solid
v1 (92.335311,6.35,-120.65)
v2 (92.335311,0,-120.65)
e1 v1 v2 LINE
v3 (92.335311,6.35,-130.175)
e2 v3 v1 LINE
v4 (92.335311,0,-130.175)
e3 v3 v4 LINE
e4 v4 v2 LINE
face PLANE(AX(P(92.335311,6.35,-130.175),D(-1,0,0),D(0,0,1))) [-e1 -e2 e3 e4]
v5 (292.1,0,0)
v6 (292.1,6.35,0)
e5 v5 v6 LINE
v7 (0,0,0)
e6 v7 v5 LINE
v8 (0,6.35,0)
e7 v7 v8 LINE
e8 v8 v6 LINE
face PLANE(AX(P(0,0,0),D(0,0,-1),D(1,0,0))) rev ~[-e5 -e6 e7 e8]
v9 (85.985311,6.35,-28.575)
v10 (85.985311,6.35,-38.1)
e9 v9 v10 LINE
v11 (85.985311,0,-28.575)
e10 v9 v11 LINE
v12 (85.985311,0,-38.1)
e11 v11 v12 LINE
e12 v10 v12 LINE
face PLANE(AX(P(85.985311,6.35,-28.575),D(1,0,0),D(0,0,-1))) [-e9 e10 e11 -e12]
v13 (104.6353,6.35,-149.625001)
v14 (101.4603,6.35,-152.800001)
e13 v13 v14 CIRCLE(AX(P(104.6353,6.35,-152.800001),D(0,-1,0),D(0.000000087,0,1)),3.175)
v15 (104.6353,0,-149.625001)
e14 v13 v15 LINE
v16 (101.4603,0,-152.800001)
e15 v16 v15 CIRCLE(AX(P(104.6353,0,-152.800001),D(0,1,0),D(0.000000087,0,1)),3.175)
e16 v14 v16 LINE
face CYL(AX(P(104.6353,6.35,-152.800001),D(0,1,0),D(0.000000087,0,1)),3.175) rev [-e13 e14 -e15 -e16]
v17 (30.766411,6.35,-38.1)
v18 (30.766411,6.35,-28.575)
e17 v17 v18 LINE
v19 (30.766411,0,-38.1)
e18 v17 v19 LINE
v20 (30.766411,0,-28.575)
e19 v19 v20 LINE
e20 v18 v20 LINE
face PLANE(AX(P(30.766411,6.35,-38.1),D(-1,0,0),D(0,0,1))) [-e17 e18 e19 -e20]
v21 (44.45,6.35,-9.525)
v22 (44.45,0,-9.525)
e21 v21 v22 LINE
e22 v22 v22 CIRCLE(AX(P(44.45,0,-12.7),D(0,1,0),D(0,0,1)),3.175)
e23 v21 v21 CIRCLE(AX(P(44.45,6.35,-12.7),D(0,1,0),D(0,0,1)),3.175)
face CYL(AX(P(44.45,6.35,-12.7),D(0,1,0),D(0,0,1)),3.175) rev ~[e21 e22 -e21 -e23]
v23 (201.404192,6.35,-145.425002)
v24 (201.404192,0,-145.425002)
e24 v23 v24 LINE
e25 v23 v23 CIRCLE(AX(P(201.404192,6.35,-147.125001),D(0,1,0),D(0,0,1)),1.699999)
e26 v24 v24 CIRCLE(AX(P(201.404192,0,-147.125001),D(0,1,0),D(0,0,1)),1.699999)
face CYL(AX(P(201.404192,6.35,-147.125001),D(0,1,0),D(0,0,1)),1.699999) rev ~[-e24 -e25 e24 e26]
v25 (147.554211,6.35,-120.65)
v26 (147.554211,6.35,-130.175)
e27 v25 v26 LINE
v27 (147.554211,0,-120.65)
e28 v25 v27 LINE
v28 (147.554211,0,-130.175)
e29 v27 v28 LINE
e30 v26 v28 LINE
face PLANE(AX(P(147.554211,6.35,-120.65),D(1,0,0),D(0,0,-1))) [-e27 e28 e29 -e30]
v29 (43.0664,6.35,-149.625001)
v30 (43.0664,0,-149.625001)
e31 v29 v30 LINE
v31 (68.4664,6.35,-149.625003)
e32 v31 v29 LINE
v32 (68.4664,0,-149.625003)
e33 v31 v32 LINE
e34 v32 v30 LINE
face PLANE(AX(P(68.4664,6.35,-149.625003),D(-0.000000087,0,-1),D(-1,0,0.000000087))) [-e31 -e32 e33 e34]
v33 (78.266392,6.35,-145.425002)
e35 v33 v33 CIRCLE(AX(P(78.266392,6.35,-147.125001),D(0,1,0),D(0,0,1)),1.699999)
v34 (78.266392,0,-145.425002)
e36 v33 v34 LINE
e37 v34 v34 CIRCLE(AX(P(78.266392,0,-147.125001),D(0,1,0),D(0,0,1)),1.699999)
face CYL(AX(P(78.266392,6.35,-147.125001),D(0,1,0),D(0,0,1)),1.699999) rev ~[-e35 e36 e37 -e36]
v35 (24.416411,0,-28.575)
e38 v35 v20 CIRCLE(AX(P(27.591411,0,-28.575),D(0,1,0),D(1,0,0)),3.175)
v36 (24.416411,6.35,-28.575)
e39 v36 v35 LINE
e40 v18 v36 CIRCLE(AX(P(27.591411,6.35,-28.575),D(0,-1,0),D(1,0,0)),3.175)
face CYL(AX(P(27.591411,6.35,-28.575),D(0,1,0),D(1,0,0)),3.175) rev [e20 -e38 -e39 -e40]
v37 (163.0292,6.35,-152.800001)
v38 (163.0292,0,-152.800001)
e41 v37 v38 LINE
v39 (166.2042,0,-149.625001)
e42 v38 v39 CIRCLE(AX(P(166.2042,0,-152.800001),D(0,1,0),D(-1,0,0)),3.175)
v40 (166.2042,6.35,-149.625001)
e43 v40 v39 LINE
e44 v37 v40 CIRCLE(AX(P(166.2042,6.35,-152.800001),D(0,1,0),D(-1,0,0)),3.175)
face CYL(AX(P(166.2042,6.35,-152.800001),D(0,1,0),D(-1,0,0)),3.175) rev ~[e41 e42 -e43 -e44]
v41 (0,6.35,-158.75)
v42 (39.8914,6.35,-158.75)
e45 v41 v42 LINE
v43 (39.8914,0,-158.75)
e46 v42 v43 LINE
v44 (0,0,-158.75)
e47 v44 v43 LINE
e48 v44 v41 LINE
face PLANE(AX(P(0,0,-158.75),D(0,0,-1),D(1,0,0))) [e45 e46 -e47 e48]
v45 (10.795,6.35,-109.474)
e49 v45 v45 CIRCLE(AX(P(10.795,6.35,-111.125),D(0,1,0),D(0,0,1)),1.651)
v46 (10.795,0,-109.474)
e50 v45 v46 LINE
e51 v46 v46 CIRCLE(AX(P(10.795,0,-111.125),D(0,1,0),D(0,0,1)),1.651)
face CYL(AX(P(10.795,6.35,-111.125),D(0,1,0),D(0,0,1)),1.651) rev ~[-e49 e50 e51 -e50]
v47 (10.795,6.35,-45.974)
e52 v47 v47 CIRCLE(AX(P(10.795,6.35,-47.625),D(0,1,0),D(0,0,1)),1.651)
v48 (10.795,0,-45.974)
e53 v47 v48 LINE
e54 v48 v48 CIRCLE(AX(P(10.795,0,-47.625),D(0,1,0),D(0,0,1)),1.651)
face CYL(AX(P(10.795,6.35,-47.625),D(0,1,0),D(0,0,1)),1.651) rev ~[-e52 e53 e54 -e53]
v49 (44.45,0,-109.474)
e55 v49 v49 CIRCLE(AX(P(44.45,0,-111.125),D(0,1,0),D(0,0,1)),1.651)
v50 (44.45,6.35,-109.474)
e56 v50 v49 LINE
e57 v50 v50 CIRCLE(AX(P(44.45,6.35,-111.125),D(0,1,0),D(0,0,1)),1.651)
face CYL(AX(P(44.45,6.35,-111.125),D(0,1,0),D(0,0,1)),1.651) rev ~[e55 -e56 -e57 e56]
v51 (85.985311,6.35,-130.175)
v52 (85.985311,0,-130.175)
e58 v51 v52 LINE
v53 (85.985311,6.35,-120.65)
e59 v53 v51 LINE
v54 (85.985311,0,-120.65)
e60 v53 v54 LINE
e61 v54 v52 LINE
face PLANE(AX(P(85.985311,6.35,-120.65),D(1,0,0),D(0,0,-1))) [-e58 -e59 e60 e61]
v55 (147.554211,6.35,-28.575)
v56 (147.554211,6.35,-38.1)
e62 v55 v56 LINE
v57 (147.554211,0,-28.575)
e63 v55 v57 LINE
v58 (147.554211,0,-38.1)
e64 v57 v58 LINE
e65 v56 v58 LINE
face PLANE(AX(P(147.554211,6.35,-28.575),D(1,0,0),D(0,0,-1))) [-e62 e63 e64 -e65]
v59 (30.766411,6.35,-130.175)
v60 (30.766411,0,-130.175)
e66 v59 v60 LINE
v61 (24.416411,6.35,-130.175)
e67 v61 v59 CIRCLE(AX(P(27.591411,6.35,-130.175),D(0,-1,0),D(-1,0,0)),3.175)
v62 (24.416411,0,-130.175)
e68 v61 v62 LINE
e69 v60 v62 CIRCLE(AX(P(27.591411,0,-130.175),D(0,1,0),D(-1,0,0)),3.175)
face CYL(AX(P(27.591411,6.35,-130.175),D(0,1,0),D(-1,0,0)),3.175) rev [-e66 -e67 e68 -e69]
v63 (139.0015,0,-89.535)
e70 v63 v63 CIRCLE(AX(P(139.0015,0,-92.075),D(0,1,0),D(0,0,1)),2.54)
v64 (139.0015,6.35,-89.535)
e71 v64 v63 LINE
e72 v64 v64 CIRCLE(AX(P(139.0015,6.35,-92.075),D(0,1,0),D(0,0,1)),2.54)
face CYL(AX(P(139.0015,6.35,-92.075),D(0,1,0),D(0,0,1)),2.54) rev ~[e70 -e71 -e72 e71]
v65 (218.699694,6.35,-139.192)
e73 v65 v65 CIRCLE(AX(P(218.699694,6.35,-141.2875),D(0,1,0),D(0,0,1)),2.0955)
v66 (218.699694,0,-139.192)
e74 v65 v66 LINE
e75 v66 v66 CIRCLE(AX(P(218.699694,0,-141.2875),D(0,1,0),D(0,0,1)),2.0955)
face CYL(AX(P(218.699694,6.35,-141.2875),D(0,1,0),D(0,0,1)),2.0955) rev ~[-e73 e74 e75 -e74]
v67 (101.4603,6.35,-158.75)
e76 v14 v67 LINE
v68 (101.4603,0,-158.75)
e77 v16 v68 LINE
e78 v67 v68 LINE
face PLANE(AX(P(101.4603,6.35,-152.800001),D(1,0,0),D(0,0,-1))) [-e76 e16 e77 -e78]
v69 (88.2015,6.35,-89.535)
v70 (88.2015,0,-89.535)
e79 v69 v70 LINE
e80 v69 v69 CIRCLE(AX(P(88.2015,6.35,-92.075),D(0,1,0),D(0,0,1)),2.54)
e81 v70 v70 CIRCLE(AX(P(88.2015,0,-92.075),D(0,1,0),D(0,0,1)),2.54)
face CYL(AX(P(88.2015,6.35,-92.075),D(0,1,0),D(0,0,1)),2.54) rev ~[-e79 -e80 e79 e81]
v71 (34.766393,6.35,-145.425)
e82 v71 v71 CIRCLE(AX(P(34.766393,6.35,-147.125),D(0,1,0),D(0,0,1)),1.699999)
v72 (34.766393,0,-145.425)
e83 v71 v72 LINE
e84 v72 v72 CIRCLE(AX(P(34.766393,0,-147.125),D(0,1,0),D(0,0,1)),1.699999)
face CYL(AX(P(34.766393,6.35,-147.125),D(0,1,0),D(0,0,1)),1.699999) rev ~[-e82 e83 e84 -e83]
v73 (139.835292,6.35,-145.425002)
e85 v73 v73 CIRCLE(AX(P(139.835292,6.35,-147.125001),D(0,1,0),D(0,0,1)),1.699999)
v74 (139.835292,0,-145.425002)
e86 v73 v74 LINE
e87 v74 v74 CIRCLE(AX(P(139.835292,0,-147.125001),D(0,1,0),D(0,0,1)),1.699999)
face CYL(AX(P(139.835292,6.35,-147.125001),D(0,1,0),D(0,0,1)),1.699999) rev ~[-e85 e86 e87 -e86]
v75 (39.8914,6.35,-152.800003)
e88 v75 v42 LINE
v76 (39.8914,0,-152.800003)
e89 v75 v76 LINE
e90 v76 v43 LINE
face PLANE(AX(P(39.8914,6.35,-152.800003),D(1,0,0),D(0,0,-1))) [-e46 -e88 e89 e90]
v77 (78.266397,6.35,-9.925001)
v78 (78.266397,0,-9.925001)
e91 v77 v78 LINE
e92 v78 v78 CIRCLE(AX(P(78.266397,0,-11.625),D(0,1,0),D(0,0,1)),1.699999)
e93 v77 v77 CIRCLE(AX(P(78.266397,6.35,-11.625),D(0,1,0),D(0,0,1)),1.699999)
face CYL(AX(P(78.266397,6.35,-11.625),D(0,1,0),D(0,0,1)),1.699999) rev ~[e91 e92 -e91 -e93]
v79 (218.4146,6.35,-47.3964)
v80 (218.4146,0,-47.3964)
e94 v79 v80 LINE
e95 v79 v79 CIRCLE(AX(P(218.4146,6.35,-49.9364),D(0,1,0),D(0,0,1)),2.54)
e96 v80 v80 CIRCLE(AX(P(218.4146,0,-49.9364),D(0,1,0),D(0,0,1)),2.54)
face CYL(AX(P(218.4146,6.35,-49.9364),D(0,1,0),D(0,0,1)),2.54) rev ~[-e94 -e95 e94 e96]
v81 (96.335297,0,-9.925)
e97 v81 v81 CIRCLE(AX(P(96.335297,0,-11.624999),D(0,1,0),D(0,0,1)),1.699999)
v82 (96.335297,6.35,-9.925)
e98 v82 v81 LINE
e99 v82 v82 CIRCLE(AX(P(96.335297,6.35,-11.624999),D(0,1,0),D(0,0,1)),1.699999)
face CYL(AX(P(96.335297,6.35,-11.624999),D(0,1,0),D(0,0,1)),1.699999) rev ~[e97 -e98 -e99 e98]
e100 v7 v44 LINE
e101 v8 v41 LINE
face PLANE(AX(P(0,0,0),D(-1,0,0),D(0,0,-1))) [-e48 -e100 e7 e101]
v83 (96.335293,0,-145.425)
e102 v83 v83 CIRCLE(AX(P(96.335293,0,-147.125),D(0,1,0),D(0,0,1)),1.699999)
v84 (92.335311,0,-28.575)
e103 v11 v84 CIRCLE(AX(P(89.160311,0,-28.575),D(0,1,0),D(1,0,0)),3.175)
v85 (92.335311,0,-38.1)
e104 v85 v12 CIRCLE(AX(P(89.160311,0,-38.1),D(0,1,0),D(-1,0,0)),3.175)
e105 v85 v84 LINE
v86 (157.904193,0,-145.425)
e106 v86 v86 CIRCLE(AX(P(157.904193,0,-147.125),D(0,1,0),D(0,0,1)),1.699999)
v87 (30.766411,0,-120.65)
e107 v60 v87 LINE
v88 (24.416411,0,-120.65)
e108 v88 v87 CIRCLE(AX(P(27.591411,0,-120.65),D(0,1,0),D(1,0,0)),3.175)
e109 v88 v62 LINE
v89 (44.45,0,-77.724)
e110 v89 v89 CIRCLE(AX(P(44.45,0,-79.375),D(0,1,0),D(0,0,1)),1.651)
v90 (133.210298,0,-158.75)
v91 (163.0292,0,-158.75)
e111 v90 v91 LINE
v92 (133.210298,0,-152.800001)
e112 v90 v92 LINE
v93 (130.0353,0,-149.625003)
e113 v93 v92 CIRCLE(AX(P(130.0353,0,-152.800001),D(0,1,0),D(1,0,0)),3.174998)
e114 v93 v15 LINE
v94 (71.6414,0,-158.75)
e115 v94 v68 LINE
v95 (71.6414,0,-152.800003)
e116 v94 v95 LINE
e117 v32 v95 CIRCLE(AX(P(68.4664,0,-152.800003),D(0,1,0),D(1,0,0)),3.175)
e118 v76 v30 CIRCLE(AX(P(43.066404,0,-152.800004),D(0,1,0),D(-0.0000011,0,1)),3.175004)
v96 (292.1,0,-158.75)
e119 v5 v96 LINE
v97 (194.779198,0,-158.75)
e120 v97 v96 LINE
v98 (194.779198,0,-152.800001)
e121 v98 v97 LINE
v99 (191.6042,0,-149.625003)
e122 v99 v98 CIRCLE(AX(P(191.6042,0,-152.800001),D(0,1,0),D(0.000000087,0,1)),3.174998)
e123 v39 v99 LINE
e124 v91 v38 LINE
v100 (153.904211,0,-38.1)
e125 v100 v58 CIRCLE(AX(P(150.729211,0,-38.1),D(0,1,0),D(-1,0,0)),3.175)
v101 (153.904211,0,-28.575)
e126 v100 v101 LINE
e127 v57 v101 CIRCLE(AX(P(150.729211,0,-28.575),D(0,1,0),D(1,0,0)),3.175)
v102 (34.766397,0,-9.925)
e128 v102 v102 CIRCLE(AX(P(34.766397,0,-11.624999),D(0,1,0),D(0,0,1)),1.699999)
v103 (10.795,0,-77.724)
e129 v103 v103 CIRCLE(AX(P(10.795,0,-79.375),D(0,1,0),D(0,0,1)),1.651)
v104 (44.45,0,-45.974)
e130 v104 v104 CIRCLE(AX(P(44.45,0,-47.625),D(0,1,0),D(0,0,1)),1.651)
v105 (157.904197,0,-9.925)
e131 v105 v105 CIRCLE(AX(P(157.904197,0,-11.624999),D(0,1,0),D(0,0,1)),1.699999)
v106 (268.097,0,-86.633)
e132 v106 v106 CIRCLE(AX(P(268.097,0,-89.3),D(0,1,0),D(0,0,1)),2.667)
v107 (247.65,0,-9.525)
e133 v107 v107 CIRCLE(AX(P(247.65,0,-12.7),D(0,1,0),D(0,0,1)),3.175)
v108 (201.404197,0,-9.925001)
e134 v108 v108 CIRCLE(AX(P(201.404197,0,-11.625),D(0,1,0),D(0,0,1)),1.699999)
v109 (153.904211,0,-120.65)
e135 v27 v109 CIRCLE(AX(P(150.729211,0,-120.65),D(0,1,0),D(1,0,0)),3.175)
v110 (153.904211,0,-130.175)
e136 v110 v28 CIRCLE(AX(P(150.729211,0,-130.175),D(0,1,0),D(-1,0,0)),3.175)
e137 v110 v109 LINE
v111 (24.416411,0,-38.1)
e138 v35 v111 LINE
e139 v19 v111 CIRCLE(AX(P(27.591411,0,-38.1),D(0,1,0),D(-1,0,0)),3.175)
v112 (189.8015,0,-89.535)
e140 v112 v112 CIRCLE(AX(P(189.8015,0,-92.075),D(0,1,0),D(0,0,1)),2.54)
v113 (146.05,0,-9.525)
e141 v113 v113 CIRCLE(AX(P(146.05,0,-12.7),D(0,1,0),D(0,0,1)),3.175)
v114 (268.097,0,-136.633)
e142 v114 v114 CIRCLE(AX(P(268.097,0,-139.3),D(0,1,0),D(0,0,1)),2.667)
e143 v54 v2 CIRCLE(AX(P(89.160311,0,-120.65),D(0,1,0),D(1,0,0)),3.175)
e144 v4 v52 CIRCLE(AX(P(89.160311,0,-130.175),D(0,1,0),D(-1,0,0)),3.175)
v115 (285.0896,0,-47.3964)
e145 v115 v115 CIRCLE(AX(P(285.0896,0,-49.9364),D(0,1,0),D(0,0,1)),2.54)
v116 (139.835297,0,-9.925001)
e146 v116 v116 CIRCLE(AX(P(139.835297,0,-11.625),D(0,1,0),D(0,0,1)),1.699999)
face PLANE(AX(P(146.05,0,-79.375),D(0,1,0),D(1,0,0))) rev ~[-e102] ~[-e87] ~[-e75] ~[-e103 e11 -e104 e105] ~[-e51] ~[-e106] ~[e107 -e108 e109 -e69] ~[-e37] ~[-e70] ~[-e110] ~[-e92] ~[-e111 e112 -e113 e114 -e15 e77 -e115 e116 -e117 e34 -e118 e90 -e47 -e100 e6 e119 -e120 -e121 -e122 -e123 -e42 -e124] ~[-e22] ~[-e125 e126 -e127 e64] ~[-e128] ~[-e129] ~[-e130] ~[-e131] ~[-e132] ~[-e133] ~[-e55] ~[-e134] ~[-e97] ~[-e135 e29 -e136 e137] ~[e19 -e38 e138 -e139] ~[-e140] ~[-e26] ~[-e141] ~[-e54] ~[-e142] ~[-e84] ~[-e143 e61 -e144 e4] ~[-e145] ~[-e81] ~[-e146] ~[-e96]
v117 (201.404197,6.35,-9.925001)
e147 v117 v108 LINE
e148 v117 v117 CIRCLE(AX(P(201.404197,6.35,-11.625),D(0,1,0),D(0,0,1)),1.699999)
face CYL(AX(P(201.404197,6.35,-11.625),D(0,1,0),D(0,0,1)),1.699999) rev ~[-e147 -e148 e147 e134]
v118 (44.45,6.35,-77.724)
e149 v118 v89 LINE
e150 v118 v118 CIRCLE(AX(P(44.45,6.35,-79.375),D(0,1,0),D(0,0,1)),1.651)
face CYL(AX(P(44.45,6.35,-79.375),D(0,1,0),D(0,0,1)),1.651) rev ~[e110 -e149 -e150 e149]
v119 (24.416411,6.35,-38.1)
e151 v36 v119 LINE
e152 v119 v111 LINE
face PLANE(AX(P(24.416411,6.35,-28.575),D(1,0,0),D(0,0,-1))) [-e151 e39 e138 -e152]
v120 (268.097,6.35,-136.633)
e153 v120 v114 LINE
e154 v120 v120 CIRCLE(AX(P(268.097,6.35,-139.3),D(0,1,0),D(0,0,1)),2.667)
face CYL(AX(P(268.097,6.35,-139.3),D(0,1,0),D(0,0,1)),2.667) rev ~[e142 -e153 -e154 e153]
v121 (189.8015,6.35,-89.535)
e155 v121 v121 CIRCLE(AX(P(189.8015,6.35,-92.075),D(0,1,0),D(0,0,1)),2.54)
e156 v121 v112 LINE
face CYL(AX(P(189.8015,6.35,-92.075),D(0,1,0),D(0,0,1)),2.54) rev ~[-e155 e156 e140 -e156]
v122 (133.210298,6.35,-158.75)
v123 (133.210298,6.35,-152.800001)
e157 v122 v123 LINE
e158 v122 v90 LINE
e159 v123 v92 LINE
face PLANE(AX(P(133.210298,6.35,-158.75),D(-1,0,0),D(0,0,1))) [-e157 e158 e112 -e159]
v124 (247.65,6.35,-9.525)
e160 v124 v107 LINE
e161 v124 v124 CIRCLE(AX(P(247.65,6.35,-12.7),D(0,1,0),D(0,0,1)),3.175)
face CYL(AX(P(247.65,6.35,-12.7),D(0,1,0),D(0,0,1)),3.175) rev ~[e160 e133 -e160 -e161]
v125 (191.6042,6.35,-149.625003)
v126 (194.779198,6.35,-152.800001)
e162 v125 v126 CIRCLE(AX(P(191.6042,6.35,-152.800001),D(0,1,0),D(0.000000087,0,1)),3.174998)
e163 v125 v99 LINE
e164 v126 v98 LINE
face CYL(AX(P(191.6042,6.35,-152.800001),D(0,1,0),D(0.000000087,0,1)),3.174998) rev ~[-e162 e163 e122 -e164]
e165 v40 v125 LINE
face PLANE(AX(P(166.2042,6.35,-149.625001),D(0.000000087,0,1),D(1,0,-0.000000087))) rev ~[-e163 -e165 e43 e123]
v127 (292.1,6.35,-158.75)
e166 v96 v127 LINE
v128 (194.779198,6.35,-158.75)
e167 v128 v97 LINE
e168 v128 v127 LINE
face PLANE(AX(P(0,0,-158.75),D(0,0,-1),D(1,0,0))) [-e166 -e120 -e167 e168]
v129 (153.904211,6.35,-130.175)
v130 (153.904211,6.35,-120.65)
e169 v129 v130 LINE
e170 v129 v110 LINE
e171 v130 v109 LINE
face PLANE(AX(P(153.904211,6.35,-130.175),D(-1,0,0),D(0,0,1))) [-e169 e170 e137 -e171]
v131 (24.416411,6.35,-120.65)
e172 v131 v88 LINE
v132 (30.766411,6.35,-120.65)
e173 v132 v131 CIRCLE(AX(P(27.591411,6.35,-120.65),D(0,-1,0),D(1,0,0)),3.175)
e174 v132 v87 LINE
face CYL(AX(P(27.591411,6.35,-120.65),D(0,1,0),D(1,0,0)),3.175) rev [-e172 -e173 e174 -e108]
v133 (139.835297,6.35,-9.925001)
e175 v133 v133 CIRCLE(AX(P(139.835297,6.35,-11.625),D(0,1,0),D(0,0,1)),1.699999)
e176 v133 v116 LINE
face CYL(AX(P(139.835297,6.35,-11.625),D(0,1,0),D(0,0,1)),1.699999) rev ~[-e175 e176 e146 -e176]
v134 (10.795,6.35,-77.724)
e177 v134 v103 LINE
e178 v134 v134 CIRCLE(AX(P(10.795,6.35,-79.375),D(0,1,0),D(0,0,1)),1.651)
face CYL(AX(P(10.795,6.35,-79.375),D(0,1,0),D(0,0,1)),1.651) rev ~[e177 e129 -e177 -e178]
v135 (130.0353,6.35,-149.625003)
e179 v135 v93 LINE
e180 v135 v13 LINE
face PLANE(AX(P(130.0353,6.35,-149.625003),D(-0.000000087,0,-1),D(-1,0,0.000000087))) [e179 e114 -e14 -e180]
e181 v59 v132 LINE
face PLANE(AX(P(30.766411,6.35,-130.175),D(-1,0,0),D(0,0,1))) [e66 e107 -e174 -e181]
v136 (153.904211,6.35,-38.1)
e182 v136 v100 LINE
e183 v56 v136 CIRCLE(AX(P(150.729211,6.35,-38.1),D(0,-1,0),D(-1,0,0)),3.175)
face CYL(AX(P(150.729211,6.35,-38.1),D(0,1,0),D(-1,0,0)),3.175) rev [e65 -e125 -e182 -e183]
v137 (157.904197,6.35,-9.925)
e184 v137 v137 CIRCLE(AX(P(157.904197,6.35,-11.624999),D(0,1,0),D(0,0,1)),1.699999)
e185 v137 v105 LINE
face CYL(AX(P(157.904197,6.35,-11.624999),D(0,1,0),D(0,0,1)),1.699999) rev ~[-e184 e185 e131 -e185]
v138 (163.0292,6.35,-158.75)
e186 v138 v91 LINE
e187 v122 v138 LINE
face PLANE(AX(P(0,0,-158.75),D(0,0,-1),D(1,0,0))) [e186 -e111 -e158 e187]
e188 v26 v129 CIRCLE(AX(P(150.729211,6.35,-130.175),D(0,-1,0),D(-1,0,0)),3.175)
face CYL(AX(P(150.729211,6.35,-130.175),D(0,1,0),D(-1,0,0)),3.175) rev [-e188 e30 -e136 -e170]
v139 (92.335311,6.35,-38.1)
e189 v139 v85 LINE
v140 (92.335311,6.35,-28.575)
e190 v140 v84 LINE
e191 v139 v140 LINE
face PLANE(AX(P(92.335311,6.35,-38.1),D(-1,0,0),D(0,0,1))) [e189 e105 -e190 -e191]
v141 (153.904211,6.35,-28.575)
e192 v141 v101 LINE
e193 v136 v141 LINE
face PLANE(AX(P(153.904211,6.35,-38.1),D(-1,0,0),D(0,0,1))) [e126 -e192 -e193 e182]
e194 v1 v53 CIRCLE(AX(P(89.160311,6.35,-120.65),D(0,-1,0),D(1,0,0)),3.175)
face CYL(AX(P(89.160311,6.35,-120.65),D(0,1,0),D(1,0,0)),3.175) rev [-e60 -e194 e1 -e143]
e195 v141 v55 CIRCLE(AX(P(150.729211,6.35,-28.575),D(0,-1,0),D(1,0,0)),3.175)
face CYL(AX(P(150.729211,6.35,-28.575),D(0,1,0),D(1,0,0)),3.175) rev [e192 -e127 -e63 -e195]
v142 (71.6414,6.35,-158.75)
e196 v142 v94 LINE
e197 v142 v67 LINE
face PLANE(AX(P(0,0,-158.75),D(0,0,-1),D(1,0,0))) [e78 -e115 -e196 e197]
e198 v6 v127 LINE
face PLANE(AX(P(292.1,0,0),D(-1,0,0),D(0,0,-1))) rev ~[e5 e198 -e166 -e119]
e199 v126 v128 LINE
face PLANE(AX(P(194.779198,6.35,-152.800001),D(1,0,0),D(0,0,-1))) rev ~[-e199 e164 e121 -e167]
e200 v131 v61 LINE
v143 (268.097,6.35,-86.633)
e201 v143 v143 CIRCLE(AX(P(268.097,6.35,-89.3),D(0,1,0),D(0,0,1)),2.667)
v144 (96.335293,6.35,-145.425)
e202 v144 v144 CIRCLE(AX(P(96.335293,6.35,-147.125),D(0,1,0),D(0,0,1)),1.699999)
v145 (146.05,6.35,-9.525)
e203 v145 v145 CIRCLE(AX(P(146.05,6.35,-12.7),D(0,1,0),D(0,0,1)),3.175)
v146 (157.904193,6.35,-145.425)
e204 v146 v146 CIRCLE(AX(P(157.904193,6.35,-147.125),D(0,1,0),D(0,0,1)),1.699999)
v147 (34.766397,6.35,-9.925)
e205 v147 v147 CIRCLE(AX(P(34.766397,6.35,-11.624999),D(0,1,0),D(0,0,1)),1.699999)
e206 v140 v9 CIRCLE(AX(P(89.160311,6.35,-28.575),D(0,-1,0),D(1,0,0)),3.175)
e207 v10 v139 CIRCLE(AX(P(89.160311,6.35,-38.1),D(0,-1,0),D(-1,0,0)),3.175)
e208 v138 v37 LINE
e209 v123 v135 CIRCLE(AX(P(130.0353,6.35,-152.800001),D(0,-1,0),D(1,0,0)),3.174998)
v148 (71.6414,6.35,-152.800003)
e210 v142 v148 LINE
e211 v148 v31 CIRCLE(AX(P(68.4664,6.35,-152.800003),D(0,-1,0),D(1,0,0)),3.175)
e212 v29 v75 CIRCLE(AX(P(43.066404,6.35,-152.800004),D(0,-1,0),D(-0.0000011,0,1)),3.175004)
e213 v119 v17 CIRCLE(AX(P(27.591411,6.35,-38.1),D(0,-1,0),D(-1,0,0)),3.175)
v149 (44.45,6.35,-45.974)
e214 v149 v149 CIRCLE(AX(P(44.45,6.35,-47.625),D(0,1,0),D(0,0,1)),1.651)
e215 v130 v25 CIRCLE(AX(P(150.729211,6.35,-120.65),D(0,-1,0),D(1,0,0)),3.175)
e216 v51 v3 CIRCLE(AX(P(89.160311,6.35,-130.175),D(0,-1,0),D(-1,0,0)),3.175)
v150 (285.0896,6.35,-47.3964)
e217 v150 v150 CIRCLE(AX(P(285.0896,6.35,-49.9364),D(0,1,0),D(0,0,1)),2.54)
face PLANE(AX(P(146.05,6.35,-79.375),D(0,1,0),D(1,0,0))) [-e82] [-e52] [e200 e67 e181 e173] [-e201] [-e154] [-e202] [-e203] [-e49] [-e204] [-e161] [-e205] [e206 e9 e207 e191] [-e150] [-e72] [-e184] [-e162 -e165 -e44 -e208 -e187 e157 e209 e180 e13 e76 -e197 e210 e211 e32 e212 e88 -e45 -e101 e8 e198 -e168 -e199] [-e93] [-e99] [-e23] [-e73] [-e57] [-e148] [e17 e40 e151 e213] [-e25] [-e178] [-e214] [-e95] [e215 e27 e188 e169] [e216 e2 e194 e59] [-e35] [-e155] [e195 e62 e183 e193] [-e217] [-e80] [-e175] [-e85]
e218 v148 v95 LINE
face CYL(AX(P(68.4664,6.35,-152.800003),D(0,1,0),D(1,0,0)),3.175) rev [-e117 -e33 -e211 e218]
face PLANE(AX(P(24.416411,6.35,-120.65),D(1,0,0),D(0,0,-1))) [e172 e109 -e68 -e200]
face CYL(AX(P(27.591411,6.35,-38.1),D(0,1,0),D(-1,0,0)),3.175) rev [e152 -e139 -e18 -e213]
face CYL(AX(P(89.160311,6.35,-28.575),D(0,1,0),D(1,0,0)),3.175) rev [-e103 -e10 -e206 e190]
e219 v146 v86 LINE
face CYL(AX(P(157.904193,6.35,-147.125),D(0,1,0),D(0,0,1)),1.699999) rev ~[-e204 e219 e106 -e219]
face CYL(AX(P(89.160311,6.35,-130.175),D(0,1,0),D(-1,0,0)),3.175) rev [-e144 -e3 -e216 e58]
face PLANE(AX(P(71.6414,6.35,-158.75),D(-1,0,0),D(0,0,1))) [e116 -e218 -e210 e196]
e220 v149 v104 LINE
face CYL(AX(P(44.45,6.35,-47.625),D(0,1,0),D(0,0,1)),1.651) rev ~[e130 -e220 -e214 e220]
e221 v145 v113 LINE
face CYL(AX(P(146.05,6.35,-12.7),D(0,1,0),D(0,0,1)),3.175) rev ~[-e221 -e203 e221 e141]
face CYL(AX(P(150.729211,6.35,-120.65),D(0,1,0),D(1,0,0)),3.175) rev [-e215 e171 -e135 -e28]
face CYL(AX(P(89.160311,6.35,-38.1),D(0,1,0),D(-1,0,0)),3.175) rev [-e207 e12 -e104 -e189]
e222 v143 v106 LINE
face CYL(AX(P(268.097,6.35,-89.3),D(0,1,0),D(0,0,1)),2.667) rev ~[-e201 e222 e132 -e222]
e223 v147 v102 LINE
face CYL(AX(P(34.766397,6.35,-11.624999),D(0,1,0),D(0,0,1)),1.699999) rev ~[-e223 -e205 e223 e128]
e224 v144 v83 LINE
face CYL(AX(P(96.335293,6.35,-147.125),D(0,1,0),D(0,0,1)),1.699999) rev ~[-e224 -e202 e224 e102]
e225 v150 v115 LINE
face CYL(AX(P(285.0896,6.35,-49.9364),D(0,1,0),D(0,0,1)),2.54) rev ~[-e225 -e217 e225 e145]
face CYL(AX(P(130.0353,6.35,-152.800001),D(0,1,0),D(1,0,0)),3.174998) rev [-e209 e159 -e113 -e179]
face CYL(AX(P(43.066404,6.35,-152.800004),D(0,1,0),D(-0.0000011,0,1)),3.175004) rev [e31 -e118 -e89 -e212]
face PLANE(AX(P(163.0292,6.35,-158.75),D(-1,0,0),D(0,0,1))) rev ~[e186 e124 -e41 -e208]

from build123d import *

# Parameters (mm, degrees)
SKETCH1_W           = 292.1
SKETCH1_H           = 158.75
BOSS_EXTRUDE1_DEPTH = 6.35
SKETCH2_R           = 3.175
CUT_EXTRUDE2_DEPTH  = 6.35
SKETCH4_R           = 2.54
SKETCH4_R_2         = 1.651
SKETCH4_R_3         = 2.667
SKETCH4_R_4         = 1.69999914
SKETCH4_R_5         = 2.0955
CUT_EXTRUDE5_DEPTH  = 333.512097524


with BuildPart() as part:
    # Sketch1 → Boss-Extrude1 (new body)
    with BuildSketch(Plane(origin=(0, 0, 0), x_dir=(1, 0, 0), z_dir=(0, 1, 0))):
        with Locations((146.05, 79.375)):
            Rectangle(SKETCH1_W, SKETCH1_H)
    extrude(amount=BOSS_EXTRUDE1_DEPTH)

    # Sketch2 → Cut-Extrude2 (cut)
    with BuildSketch(Plane(origin=(0, 6.35, 0), x_dir=(1, 0, 0), z_dir=(0, 1, 0))):
        with Locations(Location((146.05, 12.7, 0), (0, 0, 270))):
            Circle(SKETCH2_R)
        with Locations(Location((247.65, 12.7, 0), (0, 0, 270))):
            Circle(SKETCH2_R)
        with Locations(Location((44.45, 12.7, 0), (0, 0, 270))):
            Circle(SKETCH2_R)
    extrude(amount=-CUT_EXTRUDE2_DEPTH, mode=Mode.SUBTRACT)

    # Sketch4 → Cut-Extrude5 (cut, through all)
    with BuildSketch(Plane(origin=(0, 6.35, 0), x_dir=(1, 0, 0), z_dir=(0, 1, 0))):
        with Locations(Location((88.2015, 92.075, 0), (0, 0, 270))):
            Circle(SKETCH4_R)
        with Locations(Location((44.45, 111.125, 0), (0, 0, 270))):
            Circle(SKETCH4_R_2)
        with Locations(Location((44.45, 79.375, 0), (0, 0, 270))):
            Circle(SKETCH4_R_2)
        with Locations(Location((44.45, 47.625, 0), (0, 0, 270))):
            Circle(SKETCH4_R_2)
        with Locations(Location((10.795, 111.125, 0), (0, 0, 270))):
            Circle(SKETCH4_R_2)
        with Locations(Location((10.795, 79.375, 0), (0, 0, 270))):
            Circle(SKETCH4_R_2)
        with Locations(Location((10.795, 47.625, 0), (0, 0, 270))):
            Circle(SKETCH4_R_2)
        with Locations(Location((139.0015, 92.075, 0), (0, 0, 270))):
            Circle(SKETCH4_R)
        with Locations(Location((189.8015, 92.075, 0), (0, 0, 270))):
            Circle(SKETCH4_R)
        with Locations(Location((218.4146, 49.9364, 0), (0, 0, 270))):
            Circle(SKETCH4_R)
        with Locations(Location((285.0896, 49.9364, 0), (0, 0, 270))):
            Circle(SKETCH4_R)
        with Locations(Location((268.097, 139.3, 0), (0, 0, 270))):
            Circle(SKETCH4_R_3)
        with Locations(Location((268.097, 89.3, 0), (0, 0, 270))):
            Circle(SKETCH4_R_3)
        with Locations(Location((201.40419192, 147.125001204, 0), (0, 0, 270))):
            Circle(SKETCH4_R_4)
        with Locations(Location((157.90419256, 147.124999631, 0), (0, 0, 270))):
            Circle(SKETCH4_R_4)
        with Locations(Location((139.83529192, 147.125001204, 0), (0, 0, 270))):
            Circle(SKETCH4_R_4)
        with Locations(Location((96.33529256, 147.124999631, 0), (0, 0, 270))):
            Circle(SKETCH4_R_4)
        with Locations(Location((78.26639192, 147.125001204, 0), (0, 0, 270))):
            Circle(SKETCH4_R_4)
        with Locations(Location((34.76639256, 147.124999631, 0), (0, 0, 270))):
            Circle(SKETCH4_R_4)
        with Locations(Location((157.90419746, 11.624998851, 0), (0, 0, 270))):
            Circle(SKETCH4_R_4)
        with Locations(Location((201.40419682, 11.625000424, 0), (0, 0, 270))):
            Circle(SKETCH4_R_4)
        with Locations(Location((139.83529682, 11.625000424, 0), (0, 0, 270))):
            Circle(SKETCH4_R_4)
        with Locations(Location((96.33529746, 11.624998851, 0), (0, 0, 270))):
            Circle(SKETCH4_R_4)
        with Locations(Location((78.26639682, 11.625000424, 0), (0, 0, 270))):
            Circle(SKETCH4_R_4)
        with Locations(Location((34.76639746, 11.624998851, 0), (0, 0, 270))):
            Circle(SKETCH4_R_4)
        with Locations(Location((218.69969445, 141.2875, 0), (0, 0, 270))):
            Circle(SKETCH4_R_5)
        with BuildLine():
            Line((92.33531063, 130.175), (92.33531063, 120.65))
            ThreePointArc((92.33531063, 120.65), (89.16031063, 117.475), (85.98531063, 120.65))
            Line((85.98531063, 120.65), (85.98531063, 130.175))
            ThreePointArc((85.98531063, 130.175), (89.16031063, 133.35), (92.33531063, 130.175))
        make_face()
        with BuildLine():
            Line((30.76641063, 130.175), (30.76641063, 120.65))
            ThreePointArc((30.76641063, 120.65), (27.59141063, 117.475), (24.41641063, 120.65))
            Line((24.41641063, 120.65), (24.41641063, 130.175))
            ThreePointArc((24.41641063, 130.175), (27.59141063, 133.35), (30.76641063, 130.175))
        make_face()
        with BuildLine():
            Line((153.90421063, 130.175), (153.90421063, 120.65))
            ThreePointArc((153.90421063, 120.65), (150.72921063, 117.475), (147.55421063, 120.65))
            Line((147.55421063, 120.65), (147.55421063, 130.175))
            ThreePointArc((147.55421063, 130.175), (150.72921063, 133.35), (153.90421063, 130.175))
        make_face()
        with BuildLine():
            Line((153.90421063, 38.1), (153.90421063, 28.575))
            ThreePointArc((153.90421063, 28.575), (150.72921063, 25.4), (147.55421063, 28.575))
            Line((147.55421063, 28.575), (147.55421063, 38.1))
            ThreePointArc((147.55421063, 38.1), (150.72921063, 41.275), (153.90421063, 38.1))
        make_face()
        with BuildLine():
            Line((30.76641063, 38.1), (30.76641063, 28.575))
            ThreePointArc((30.76641063, 28.575), (27.59141063, 25.4), (24.41641063, 28.575))
            Line((24.41641063, 28.575), (24.41641063, 38.1))
            ThreePointArc((24.41641063, 38.1), (27.59141063, 41.275), (30.76641063, 38.1))
        make_face()
        with BuildLine():
            Line((92.33531063, 38.1), (92.33531063, 28.575))
            ThreePointArc((92.33531063, 28.575), (89.16031063, 25.4), (85.98531063, 28.575))
            Line((85.98531063, 28.575), (85.98531063, 38.1))
            ThreePointArc((85.98531063, 38.1), (89.16031063, 41.275), (92.33531063, 38.1))
        make_face()
        with BuildLine():
            Line((68.466400276, 149.625002844), (43.066400276, 149.625000636))
            ThreePointArc((43.066400276, 149.625000636), (40.821336067, 150.554938716), (39.8914, 152.800002844))
            Line((39.8914, 152.800002844), (39.8914, 158.75))
            Line((39.8914, 158.75), (71.6414, 158.75))
            Line((71.6414, 158.75), (71.6414, 152.800002844))
            ThreePointArc((71.6414, 152.800002844), (70.711464128, 150.554938912), (68.466400276, 149.625002844))
        make_face()
        with BuildLine():
            Line((101.4603, 152.800000636), (101.4603, 158.75))
            Line((101.4603, 158.75), (133.210297791, 158.75))
            Line((133.210297791, 158.75), (133.210297791, 152.800000636))
            ThreePointArc((133.210297791, 152.800000636), (132.280362566, 150.554938265), (130.035300276, 149.625002844))
            Line((130.035300276, 149.625002844), (104.635300276, 149.625000636))
            ThreePointArc((104.635300276, 149.625000636), (102.390236067, 150.554936508), (101.4603, 152.800000636))
        make_face()
        with BuildLine():
            Line((194.779197791, 158.75), (163.0292, 158.75))
            Line((163.0292, 158.75), (163.0292, 152.800000636))
            ThreePointArc((163.0292, 152.800000636), (163.959136067, 150.554936508), (166.204200276, 149.625000636))
            Line((166.204200276, 149.625000636), (191.604200276, 149.625002844))
            ThreePointArc((191.604200276, 149.625002844), (193.849262566, 150.554938265), (194.779197791, 152.800000636))
            Line((194.779197791, 152.800000636), (194.779197791, 158.75))
        make_face()
    extrude(amount=-CUT_EXTRUDE5_DEPTH, mode=Mode.SUBTRACT)


solid = part.part
